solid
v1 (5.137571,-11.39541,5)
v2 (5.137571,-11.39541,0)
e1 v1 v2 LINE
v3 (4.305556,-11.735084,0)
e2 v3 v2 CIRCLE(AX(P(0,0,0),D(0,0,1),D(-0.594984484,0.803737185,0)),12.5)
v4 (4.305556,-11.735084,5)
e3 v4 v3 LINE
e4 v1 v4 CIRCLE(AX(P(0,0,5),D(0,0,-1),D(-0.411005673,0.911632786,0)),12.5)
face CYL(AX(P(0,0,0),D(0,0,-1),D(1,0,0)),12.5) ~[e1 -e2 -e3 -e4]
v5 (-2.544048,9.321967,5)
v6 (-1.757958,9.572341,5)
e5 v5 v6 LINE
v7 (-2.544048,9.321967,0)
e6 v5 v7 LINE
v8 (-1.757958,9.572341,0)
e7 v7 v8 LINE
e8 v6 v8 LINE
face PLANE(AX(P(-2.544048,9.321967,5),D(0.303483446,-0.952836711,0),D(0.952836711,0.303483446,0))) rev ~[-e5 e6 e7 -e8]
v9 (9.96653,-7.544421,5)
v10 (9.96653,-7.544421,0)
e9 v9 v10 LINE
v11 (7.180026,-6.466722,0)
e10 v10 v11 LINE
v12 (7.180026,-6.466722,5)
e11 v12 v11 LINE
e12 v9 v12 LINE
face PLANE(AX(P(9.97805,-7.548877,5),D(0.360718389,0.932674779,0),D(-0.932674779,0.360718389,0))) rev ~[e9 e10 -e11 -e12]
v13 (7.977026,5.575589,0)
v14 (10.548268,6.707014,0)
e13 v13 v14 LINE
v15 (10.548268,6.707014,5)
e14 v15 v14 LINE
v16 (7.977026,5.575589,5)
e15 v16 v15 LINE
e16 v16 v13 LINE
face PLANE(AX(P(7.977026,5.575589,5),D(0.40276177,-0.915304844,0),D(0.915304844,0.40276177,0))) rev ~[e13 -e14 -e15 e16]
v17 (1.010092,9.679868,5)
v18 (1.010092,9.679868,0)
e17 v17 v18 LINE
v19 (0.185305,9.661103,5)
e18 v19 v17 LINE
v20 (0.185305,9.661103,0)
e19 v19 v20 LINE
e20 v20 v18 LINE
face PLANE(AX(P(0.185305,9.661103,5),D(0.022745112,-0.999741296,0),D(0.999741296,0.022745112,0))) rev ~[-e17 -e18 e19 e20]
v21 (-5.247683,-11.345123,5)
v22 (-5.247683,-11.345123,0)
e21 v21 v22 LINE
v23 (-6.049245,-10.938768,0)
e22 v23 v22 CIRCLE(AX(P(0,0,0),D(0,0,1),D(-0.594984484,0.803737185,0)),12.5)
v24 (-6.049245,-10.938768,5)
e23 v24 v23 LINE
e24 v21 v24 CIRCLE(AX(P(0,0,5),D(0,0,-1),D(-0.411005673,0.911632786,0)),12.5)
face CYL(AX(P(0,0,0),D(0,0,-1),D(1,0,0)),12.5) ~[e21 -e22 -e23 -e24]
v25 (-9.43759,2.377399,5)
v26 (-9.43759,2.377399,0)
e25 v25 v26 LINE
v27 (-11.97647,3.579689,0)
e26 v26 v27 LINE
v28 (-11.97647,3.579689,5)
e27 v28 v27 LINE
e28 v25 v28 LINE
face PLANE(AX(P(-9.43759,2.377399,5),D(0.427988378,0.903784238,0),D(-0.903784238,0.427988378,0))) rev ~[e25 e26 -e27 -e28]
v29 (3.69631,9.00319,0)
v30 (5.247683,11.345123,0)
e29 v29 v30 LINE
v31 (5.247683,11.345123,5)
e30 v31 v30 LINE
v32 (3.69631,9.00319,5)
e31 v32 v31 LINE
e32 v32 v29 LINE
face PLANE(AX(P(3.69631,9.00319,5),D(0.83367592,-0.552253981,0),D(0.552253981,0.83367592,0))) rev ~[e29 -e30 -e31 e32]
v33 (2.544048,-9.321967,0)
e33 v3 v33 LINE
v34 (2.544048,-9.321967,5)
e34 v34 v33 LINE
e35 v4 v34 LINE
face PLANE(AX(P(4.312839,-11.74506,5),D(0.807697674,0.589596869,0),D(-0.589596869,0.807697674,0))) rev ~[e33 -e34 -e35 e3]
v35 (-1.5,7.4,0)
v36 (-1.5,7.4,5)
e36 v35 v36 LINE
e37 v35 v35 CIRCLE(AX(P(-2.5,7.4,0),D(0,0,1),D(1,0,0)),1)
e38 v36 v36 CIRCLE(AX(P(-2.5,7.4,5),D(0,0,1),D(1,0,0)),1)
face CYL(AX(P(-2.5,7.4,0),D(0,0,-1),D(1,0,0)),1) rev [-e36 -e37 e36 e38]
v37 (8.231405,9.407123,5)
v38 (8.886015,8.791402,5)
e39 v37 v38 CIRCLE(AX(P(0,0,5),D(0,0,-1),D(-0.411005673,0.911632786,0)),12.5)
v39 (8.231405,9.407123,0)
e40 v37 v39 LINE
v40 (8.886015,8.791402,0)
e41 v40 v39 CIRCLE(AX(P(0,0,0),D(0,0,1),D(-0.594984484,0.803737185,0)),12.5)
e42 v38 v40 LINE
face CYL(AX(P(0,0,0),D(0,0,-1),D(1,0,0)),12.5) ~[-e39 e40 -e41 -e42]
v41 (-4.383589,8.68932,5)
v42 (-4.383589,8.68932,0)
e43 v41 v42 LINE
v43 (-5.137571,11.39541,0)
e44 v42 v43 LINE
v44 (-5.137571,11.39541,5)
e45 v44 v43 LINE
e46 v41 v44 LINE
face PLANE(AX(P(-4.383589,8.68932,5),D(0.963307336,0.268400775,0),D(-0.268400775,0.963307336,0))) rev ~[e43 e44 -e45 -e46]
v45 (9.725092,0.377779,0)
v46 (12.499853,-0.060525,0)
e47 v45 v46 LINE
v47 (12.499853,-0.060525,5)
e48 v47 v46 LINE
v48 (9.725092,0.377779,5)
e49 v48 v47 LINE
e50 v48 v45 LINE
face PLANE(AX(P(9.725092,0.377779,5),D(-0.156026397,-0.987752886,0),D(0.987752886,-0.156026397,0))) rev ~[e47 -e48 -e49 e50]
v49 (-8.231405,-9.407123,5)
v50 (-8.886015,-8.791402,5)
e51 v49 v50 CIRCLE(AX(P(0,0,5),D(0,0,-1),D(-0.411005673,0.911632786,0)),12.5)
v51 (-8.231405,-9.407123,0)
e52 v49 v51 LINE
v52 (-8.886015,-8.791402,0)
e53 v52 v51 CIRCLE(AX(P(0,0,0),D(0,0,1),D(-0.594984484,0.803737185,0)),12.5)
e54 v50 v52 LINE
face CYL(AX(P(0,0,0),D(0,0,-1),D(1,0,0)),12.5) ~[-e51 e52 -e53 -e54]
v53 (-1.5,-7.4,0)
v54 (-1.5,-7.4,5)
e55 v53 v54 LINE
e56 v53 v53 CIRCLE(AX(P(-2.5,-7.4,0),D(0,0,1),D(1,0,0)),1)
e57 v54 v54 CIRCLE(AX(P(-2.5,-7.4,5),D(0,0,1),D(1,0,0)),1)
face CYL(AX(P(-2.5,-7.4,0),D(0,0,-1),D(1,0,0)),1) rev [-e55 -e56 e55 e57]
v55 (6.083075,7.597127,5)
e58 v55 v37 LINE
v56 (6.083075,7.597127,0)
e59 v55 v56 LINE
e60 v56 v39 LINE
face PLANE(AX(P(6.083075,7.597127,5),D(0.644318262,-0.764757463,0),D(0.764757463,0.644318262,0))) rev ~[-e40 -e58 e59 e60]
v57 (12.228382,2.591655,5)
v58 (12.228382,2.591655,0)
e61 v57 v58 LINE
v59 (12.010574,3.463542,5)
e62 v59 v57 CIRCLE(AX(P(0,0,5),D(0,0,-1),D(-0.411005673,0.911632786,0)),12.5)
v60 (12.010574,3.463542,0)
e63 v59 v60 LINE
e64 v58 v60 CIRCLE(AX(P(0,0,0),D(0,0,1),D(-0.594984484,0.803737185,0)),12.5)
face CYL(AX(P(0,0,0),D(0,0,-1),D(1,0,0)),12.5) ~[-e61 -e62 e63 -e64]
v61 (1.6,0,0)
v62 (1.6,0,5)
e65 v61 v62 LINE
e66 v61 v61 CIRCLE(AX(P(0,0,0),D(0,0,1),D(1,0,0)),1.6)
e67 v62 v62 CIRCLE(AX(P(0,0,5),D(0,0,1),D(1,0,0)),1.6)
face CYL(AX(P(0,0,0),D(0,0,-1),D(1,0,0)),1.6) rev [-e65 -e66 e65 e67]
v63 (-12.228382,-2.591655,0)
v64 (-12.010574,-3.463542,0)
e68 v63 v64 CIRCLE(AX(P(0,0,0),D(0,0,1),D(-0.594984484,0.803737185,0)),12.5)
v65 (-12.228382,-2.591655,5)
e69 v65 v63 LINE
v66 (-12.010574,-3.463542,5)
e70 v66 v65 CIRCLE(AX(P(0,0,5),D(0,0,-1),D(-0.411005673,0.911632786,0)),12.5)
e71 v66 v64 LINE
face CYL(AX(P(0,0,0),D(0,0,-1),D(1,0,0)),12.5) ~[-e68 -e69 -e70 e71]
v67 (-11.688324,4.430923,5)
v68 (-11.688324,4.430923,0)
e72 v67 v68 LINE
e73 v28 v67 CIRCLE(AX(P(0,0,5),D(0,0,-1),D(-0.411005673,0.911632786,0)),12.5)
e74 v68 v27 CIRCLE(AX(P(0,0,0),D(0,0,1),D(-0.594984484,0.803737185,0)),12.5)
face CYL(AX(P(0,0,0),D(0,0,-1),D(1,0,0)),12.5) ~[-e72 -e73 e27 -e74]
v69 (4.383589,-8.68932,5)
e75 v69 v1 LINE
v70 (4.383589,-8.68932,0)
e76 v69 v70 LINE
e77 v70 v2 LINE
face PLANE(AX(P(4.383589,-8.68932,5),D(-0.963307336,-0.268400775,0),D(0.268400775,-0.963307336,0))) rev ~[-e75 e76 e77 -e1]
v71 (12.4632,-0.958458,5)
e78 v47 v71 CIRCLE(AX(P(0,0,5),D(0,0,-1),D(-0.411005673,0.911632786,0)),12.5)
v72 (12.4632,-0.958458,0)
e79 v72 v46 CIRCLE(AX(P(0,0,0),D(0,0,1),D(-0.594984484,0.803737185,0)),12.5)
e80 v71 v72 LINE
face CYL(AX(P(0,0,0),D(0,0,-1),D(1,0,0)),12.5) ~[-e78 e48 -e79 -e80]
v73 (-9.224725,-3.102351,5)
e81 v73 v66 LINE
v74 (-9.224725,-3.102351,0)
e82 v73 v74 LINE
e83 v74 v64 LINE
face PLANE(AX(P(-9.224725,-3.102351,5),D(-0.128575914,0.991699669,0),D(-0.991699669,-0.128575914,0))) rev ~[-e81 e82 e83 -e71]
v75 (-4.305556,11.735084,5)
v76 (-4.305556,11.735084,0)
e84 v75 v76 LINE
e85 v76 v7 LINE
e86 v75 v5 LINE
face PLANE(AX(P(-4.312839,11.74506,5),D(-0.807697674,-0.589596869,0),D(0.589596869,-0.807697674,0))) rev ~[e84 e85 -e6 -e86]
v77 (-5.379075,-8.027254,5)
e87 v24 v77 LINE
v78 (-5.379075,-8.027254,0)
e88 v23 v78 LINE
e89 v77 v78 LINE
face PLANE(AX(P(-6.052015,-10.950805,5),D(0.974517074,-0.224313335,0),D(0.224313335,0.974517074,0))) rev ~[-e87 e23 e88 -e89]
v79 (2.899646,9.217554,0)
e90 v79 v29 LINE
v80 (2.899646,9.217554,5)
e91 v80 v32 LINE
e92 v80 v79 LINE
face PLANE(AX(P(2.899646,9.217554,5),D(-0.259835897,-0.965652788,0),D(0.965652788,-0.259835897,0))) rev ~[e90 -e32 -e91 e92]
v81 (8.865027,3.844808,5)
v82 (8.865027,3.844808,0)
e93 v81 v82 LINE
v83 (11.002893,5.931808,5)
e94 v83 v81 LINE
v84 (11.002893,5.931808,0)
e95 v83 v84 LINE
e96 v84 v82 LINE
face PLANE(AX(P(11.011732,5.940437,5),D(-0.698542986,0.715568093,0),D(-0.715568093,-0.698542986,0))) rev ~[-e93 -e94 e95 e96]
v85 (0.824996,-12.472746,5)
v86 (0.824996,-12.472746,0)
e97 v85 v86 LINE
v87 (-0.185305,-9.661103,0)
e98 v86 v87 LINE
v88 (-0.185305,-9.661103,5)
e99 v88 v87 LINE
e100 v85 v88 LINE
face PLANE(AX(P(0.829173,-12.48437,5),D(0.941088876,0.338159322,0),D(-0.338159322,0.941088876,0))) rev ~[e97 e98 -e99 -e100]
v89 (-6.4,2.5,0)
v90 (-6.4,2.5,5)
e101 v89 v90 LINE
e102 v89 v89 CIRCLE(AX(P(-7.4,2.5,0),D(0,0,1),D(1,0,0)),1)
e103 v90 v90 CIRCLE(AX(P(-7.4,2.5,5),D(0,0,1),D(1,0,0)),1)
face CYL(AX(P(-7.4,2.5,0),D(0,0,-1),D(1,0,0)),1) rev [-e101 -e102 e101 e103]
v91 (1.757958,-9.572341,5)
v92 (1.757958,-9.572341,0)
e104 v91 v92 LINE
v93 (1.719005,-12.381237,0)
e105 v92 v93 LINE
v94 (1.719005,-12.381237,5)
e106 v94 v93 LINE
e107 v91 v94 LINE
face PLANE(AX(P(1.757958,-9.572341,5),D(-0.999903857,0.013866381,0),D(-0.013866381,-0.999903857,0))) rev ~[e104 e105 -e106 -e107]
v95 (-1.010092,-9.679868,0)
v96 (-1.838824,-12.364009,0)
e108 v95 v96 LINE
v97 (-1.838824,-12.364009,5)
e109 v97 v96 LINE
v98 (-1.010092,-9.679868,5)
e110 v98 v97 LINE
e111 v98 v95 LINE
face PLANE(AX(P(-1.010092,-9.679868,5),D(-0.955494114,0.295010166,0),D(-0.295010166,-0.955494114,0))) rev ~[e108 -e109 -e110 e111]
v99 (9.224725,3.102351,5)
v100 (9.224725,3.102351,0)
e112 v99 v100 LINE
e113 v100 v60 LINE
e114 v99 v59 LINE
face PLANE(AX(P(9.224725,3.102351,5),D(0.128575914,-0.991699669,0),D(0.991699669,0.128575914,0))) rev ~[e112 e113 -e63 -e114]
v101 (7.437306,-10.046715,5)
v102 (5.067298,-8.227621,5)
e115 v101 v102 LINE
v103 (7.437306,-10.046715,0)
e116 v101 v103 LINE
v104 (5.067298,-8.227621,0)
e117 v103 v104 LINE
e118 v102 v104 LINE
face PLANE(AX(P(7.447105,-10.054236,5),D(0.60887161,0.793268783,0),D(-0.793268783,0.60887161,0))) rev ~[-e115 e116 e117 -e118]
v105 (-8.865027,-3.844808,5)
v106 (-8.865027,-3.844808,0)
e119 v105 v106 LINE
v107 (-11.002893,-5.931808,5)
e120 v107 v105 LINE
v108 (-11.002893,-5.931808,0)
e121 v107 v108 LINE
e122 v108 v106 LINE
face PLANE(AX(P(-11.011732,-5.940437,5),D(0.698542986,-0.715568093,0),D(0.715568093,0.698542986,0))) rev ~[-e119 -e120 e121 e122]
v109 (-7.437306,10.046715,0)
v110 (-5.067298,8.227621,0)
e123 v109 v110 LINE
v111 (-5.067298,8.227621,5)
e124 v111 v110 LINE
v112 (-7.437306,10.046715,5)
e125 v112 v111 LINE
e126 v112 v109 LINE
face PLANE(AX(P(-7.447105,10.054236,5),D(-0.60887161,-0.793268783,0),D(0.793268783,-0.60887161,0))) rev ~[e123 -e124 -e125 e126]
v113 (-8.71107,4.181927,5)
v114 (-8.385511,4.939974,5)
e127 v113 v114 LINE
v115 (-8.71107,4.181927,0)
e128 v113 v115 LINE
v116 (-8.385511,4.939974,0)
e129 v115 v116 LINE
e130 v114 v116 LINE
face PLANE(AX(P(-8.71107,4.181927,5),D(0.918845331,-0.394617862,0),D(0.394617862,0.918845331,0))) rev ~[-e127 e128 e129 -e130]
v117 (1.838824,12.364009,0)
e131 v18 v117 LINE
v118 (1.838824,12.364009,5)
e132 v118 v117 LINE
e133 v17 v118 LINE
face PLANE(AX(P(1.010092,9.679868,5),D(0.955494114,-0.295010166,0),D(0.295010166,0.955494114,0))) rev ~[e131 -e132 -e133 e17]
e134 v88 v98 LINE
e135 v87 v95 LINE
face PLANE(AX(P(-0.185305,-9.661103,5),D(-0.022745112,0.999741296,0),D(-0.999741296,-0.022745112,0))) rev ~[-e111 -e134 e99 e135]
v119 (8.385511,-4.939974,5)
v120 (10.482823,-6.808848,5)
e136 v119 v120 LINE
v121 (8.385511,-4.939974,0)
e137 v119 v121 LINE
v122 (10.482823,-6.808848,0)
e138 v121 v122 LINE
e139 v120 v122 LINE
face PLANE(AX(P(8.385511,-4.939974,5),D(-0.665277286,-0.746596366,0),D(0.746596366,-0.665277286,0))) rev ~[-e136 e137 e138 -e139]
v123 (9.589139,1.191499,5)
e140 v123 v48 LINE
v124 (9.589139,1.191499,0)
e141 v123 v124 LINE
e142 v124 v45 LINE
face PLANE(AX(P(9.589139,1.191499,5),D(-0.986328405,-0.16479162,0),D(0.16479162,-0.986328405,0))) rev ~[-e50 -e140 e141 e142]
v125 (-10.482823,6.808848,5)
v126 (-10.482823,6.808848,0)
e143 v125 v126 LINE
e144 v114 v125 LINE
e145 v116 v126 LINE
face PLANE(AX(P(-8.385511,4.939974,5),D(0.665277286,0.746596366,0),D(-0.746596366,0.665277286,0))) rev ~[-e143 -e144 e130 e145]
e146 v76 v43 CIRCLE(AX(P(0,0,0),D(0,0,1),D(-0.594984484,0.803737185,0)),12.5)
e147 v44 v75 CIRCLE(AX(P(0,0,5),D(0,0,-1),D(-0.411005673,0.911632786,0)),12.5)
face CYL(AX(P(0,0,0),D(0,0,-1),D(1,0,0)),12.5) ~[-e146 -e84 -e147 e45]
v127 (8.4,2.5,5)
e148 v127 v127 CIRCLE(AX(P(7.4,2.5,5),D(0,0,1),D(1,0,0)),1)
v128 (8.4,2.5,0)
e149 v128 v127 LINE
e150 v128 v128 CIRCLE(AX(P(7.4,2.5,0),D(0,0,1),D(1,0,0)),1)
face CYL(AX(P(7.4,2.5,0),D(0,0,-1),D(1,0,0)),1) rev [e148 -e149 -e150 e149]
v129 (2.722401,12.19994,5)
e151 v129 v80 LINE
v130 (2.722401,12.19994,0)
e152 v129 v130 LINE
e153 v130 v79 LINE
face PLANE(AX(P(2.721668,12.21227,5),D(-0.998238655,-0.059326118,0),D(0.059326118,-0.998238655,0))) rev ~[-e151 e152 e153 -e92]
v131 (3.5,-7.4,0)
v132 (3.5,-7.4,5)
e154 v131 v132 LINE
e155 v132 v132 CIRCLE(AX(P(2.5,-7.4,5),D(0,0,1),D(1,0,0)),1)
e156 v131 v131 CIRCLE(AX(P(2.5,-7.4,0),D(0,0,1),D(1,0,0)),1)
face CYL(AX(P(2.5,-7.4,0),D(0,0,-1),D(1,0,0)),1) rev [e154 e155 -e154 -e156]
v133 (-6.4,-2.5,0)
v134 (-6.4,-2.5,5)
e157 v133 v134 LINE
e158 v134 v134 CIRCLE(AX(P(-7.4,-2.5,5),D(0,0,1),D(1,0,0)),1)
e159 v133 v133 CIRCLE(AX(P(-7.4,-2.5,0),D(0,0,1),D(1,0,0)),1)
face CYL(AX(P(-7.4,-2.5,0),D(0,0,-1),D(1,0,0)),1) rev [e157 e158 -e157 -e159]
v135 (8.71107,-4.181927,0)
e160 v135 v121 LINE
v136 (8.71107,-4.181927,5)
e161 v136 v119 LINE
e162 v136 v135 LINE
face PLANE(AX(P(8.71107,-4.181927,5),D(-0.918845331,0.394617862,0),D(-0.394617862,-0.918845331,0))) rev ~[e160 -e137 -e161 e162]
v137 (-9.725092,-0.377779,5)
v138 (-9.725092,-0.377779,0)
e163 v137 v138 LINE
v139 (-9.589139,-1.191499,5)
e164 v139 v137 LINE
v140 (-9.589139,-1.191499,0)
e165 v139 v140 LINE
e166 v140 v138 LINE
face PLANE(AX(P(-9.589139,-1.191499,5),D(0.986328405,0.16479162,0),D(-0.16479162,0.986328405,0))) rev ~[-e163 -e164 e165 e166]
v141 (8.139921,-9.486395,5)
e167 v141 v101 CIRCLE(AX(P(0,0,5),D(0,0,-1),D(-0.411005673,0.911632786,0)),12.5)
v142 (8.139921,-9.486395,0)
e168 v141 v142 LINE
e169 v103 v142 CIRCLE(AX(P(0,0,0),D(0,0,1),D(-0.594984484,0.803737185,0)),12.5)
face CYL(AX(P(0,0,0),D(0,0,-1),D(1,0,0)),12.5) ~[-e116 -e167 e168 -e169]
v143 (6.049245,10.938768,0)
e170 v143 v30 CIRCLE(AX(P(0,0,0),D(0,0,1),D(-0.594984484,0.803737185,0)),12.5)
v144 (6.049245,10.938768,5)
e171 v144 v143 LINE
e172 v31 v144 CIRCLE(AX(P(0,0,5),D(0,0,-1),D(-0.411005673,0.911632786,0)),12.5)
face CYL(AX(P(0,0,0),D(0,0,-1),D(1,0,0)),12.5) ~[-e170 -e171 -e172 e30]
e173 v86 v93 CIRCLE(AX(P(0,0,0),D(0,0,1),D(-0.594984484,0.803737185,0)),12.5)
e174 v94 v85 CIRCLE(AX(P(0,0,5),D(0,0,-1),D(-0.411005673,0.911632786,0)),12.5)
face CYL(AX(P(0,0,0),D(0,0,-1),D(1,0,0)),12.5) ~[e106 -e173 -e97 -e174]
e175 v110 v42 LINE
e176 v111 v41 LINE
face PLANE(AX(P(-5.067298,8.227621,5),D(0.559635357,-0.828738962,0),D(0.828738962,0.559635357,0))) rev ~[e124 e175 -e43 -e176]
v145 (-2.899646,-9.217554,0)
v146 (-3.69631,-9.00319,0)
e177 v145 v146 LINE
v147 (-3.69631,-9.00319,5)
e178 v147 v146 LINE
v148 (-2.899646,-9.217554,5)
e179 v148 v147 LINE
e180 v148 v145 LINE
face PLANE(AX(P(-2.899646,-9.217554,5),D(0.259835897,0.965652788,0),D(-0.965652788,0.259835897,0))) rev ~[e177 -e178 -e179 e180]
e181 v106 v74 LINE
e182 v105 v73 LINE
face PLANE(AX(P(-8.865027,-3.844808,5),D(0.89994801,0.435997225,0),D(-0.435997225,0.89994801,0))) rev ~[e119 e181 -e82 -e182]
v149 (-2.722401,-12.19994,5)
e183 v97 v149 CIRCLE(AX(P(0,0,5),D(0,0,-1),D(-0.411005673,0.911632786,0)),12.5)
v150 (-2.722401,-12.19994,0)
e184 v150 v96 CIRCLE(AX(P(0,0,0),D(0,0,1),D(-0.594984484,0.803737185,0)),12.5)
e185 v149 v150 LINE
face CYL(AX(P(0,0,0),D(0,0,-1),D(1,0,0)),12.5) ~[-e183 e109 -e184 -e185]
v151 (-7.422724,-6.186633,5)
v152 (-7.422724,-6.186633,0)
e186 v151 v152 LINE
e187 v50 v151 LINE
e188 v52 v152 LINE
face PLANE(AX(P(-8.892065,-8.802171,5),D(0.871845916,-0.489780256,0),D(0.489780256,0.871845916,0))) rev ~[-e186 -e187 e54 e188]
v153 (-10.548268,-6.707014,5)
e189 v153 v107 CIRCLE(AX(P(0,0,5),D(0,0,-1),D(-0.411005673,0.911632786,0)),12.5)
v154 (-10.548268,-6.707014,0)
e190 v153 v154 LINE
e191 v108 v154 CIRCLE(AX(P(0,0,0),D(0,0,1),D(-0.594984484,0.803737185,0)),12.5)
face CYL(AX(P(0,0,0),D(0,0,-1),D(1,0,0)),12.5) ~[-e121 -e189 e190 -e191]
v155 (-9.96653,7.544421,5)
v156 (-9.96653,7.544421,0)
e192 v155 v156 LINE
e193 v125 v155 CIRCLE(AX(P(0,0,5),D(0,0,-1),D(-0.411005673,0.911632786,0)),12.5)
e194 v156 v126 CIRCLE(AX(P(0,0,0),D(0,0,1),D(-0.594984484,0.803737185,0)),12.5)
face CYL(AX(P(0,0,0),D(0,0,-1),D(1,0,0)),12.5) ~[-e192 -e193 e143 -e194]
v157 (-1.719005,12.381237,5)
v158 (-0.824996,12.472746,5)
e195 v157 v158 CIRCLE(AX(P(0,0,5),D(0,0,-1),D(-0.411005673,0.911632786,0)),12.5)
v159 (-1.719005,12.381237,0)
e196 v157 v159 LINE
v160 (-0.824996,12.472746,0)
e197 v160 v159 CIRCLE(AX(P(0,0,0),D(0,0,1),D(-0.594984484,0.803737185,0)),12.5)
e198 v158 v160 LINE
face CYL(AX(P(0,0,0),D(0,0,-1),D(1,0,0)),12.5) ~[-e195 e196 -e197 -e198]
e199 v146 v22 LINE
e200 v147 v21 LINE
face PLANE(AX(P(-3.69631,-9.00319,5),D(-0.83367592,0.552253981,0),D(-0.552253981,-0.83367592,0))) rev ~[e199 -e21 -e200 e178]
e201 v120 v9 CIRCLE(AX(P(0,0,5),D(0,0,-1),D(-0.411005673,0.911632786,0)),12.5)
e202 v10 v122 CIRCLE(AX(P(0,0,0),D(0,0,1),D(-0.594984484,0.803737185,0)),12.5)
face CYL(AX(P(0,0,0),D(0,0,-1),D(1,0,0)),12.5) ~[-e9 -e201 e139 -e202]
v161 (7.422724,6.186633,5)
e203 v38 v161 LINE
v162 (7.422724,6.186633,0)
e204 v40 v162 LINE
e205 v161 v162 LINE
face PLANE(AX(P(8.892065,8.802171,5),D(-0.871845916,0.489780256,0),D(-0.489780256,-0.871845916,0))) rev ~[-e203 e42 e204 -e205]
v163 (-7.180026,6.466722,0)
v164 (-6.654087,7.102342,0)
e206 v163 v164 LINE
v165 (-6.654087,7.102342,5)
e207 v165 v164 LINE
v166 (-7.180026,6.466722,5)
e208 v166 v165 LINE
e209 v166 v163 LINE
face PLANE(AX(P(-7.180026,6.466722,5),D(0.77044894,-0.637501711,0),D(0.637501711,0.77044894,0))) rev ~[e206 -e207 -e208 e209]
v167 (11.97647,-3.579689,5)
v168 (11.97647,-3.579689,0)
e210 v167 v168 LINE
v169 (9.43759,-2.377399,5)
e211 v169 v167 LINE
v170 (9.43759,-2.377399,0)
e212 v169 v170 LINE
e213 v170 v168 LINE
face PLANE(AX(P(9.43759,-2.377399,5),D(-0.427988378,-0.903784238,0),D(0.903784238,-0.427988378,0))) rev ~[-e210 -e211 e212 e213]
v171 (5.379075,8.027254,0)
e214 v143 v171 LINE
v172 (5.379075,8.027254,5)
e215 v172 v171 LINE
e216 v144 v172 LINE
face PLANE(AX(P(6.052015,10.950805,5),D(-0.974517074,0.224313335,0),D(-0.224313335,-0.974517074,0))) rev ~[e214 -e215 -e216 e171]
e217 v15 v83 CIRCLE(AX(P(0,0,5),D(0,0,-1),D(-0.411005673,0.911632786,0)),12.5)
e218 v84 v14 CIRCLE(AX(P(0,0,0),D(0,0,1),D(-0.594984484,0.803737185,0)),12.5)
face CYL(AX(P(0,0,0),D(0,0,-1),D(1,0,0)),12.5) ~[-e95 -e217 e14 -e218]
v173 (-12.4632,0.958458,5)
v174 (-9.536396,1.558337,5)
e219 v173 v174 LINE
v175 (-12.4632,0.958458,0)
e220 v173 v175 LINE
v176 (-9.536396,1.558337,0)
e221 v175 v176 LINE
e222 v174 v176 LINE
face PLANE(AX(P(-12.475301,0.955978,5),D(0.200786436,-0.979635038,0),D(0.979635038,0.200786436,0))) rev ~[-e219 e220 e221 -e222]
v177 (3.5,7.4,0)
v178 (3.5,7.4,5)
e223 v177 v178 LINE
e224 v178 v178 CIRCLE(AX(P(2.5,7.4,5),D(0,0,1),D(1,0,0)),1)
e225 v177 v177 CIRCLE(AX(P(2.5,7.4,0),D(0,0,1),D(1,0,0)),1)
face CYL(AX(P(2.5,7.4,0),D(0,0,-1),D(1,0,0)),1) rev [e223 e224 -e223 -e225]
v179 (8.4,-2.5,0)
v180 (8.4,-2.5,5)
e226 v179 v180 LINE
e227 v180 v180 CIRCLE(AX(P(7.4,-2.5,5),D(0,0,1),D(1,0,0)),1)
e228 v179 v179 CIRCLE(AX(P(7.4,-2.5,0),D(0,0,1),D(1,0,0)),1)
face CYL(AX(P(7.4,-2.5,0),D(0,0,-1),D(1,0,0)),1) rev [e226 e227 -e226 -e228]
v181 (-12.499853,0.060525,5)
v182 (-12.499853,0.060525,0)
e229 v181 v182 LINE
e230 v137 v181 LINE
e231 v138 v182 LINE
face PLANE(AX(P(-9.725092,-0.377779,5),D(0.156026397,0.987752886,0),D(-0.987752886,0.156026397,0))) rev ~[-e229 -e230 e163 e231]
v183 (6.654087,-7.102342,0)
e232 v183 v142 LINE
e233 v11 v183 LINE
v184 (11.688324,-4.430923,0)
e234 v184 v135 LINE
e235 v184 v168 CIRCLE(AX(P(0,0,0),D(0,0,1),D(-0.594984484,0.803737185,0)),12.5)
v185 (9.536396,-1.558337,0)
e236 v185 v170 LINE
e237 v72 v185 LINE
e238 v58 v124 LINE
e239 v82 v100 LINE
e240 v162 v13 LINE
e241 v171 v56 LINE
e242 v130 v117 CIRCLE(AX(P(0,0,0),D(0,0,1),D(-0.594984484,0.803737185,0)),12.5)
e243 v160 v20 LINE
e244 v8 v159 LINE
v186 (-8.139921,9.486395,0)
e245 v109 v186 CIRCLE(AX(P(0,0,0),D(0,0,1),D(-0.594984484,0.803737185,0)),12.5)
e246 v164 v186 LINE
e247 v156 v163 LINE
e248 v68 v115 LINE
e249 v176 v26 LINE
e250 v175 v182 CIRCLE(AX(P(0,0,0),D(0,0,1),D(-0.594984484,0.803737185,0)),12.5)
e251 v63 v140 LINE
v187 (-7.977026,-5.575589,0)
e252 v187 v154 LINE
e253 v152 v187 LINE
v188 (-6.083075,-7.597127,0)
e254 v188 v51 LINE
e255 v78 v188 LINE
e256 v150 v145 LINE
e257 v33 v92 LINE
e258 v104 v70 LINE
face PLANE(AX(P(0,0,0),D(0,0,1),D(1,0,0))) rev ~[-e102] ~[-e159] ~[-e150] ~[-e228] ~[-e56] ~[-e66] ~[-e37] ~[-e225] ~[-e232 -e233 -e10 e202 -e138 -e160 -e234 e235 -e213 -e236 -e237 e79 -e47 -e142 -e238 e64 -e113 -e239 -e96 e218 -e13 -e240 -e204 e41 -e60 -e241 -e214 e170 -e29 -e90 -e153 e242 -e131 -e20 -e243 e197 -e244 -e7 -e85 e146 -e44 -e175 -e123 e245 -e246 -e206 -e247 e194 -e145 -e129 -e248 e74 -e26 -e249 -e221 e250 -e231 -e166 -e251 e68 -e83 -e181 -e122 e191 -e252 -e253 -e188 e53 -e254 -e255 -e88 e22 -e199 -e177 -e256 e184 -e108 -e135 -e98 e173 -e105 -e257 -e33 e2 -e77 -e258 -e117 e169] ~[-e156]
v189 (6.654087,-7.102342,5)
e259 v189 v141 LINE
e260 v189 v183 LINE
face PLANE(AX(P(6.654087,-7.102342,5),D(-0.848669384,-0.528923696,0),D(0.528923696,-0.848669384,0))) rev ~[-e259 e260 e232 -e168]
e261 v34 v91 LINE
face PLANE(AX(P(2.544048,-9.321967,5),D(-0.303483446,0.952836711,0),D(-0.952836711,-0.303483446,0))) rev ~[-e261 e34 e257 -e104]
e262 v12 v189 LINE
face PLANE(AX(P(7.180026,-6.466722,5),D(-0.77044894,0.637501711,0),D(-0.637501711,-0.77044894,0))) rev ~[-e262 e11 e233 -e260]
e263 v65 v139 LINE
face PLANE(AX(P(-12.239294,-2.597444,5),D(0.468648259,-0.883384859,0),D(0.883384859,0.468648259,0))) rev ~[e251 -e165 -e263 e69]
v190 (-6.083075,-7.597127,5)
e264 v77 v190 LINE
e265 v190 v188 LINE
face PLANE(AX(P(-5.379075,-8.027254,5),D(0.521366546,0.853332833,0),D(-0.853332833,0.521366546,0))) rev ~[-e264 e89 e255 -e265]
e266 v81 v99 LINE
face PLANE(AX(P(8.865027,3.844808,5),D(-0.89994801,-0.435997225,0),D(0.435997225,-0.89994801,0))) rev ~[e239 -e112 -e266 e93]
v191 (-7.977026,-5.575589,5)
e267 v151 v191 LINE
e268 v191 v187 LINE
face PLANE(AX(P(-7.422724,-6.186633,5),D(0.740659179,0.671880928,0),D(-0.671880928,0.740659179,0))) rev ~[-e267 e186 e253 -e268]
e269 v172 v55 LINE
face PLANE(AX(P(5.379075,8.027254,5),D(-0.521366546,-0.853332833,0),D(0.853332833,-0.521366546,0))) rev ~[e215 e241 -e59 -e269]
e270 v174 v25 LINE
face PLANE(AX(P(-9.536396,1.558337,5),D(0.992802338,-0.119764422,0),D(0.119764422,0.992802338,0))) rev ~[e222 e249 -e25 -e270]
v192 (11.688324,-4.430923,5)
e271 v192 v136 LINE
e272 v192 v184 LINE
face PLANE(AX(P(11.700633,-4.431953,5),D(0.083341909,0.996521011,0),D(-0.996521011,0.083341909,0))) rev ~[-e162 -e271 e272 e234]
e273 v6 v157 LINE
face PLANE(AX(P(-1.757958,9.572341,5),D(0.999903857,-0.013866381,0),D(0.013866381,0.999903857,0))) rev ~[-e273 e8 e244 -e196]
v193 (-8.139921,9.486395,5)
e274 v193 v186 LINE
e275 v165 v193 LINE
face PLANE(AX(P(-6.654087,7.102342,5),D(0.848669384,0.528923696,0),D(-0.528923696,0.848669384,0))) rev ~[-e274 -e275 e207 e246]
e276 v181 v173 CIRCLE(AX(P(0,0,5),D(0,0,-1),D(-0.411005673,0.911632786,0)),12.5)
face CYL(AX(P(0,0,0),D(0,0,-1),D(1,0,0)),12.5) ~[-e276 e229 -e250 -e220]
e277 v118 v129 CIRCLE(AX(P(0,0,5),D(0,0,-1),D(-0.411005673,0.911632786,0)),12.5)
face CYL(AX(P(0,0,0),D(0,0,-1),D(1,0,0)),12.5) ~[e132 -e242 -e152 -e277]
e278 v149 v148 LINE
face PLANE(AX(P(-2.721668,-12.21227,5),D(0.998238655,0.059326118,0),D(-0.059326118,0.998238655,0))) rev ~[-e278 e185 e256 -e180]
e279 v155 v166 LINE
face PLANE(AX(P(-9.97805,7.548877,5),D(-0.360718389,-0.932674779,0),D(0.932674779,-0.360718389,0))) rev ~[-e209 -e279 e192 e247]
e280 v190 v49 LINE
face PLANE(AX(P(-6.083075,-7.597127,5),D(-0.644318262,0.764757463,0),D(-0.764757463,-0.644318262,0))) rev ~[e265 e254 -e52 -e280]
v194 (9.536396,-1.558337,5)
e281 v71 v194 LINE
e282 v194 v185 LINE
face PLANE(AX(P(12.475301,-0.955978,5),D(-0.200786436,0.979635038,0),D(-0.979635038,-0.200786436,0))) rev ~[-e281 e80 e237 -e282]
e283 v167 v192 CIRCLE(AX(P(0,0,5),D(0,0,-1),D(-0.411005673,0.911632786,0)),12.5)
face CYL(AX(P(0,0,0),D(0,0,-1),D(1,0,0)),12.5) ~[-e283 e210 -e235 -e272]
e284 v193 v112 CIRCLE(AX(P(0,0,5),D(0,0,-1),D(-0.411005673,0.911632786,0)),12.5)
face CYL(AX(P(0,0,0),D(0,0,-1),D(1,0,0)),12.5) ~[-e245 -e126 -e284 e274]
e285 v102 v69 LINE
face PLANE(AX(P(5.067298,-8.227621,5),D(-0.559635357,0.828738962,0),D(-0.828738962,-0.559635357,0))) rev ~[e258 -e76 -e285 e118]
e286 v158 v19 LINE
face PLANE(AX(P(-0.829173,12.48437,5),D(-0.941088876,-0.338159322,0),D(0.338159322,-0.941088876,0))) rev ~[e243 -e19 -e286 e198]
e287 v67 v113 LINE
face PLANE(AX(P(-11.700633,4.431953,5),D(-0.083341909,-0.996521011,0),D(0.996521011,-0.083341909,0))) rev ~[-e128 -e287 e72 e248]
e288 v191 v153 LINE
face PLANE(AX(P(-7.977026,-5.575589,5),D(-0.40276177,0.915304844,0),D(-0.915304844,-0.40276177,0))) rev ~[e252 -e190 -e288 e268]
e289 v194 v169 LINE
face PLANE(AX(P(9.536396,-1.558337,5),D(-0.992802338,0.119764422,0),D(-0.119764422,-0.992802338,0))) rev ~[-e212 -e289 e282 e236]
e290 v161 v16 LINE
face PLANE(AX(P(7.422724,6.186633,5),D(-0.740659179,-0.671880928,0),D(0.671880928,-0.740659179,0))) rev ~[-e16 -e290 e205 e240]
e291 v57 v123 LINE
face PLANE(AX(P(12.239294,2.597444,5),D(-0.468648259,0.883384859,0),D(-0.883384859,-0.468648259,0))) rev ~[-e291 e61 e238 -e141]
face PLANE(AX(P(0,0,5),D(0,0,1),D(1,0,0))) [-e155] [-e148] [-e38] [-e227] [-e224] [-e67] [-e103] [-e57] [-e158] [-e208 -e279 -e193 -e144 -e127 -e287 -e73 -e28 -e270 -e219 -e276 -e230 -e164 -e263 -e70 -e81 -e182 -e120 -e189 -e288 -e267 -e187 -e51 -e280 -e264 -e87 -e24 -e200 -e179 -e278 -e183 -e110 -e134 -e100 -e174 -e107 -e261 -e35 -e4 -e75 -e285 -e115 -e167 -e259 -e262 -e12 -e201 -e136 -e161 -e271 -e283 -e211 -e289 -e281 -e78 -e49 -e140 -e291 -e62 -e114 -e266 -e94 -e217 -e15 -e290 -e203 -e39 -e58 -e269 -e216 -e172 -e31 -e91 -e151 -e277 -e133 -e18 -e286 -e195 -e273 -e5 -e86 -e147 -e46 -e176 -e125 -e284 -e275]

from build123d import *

# Parameters (mm, degrees)
SKETCH1_R           = 12.5
SKETCH1_R_2         = 1.6
SKETCH1_R_3         = 1
BOSS_EXTRUDE1_DEPTH = 5
CUT_EXTRUDE1_DEPTH  = 6
CIRPATTERN1_COUNT   = 22


with BuildPart() as part:
    # Sketch1 → Boss-Extrude1 (new body)
    with BuildSketch(Plane.XY):
        Circle(SKETCH1_R)
        Circle(SKETCH1_R_2, mode=Mode.SUBTRACT)
        with Locations((-2.5, 7.4)):
            Circle(SKETCH1_R_3, mode=Mode.SUBTRACT)
        with Locations((2.5, 7.4)):
            Circle(SKETCH1_R_3, mode=Mode.SUBTRACT)
        with Locations((2.5, -7.4)):
            Circle(SKETCH1_R_3, mode=Mode.SUBTRACT)
        with Locations((-2.5, -7.4)):
            Circle(SKETCH1_R_3, mode=Mode.SUBTRACT)
        with Locations((7.4, -2.5)):
            Circle(SKETCH1_R_3, mode=Mode.SUBTRACT)
        with Locations((7.4, 2.5)):
            Circle(SKETCH1_R_3, mode=Mode.SUBTRACT)
        with Locations((-7.4, 2.5)):
            Circle(SKETCH1_R_3, mode=Mode.SUBTRACT)
        with Locations((-7.4, -2.5)):
            Circle(SKETCH1_R_3, mode=Mode.SUBTRACT)
    extrude(amount=BOSS_EXTRUDE1_DEPTH)

    # Sketch2 → Cut-Extrude1 (cut, through all)
    with BuildSketch(Plane.XY.offset(5)):
        Polygon((-5.188791036, 11.579242099), (-7.447104706, 10.054235749), (-5.067298356, 8.22762092), (-4.383588712, 8.68932009), align=None)
    cut_extrude1 = extrude(amount=-CUT_EXTRUDE1_DEPTH, mode=Mode.SUBTRACT)

    # CirPattern1: Cut-Extrude1 ×22 about axis
    cirpattern1_axis = Axis((0, 0, 0), (0, 0, 1))
    for i in range(1, CIRPATTERN1_COUNT):
        add(cut_extrude1.rotate(cirpattern1_axis, i * 360 / CIRPATTERN1_COUNT), mode=Mode.SUBTRACT)


solid = part.part
